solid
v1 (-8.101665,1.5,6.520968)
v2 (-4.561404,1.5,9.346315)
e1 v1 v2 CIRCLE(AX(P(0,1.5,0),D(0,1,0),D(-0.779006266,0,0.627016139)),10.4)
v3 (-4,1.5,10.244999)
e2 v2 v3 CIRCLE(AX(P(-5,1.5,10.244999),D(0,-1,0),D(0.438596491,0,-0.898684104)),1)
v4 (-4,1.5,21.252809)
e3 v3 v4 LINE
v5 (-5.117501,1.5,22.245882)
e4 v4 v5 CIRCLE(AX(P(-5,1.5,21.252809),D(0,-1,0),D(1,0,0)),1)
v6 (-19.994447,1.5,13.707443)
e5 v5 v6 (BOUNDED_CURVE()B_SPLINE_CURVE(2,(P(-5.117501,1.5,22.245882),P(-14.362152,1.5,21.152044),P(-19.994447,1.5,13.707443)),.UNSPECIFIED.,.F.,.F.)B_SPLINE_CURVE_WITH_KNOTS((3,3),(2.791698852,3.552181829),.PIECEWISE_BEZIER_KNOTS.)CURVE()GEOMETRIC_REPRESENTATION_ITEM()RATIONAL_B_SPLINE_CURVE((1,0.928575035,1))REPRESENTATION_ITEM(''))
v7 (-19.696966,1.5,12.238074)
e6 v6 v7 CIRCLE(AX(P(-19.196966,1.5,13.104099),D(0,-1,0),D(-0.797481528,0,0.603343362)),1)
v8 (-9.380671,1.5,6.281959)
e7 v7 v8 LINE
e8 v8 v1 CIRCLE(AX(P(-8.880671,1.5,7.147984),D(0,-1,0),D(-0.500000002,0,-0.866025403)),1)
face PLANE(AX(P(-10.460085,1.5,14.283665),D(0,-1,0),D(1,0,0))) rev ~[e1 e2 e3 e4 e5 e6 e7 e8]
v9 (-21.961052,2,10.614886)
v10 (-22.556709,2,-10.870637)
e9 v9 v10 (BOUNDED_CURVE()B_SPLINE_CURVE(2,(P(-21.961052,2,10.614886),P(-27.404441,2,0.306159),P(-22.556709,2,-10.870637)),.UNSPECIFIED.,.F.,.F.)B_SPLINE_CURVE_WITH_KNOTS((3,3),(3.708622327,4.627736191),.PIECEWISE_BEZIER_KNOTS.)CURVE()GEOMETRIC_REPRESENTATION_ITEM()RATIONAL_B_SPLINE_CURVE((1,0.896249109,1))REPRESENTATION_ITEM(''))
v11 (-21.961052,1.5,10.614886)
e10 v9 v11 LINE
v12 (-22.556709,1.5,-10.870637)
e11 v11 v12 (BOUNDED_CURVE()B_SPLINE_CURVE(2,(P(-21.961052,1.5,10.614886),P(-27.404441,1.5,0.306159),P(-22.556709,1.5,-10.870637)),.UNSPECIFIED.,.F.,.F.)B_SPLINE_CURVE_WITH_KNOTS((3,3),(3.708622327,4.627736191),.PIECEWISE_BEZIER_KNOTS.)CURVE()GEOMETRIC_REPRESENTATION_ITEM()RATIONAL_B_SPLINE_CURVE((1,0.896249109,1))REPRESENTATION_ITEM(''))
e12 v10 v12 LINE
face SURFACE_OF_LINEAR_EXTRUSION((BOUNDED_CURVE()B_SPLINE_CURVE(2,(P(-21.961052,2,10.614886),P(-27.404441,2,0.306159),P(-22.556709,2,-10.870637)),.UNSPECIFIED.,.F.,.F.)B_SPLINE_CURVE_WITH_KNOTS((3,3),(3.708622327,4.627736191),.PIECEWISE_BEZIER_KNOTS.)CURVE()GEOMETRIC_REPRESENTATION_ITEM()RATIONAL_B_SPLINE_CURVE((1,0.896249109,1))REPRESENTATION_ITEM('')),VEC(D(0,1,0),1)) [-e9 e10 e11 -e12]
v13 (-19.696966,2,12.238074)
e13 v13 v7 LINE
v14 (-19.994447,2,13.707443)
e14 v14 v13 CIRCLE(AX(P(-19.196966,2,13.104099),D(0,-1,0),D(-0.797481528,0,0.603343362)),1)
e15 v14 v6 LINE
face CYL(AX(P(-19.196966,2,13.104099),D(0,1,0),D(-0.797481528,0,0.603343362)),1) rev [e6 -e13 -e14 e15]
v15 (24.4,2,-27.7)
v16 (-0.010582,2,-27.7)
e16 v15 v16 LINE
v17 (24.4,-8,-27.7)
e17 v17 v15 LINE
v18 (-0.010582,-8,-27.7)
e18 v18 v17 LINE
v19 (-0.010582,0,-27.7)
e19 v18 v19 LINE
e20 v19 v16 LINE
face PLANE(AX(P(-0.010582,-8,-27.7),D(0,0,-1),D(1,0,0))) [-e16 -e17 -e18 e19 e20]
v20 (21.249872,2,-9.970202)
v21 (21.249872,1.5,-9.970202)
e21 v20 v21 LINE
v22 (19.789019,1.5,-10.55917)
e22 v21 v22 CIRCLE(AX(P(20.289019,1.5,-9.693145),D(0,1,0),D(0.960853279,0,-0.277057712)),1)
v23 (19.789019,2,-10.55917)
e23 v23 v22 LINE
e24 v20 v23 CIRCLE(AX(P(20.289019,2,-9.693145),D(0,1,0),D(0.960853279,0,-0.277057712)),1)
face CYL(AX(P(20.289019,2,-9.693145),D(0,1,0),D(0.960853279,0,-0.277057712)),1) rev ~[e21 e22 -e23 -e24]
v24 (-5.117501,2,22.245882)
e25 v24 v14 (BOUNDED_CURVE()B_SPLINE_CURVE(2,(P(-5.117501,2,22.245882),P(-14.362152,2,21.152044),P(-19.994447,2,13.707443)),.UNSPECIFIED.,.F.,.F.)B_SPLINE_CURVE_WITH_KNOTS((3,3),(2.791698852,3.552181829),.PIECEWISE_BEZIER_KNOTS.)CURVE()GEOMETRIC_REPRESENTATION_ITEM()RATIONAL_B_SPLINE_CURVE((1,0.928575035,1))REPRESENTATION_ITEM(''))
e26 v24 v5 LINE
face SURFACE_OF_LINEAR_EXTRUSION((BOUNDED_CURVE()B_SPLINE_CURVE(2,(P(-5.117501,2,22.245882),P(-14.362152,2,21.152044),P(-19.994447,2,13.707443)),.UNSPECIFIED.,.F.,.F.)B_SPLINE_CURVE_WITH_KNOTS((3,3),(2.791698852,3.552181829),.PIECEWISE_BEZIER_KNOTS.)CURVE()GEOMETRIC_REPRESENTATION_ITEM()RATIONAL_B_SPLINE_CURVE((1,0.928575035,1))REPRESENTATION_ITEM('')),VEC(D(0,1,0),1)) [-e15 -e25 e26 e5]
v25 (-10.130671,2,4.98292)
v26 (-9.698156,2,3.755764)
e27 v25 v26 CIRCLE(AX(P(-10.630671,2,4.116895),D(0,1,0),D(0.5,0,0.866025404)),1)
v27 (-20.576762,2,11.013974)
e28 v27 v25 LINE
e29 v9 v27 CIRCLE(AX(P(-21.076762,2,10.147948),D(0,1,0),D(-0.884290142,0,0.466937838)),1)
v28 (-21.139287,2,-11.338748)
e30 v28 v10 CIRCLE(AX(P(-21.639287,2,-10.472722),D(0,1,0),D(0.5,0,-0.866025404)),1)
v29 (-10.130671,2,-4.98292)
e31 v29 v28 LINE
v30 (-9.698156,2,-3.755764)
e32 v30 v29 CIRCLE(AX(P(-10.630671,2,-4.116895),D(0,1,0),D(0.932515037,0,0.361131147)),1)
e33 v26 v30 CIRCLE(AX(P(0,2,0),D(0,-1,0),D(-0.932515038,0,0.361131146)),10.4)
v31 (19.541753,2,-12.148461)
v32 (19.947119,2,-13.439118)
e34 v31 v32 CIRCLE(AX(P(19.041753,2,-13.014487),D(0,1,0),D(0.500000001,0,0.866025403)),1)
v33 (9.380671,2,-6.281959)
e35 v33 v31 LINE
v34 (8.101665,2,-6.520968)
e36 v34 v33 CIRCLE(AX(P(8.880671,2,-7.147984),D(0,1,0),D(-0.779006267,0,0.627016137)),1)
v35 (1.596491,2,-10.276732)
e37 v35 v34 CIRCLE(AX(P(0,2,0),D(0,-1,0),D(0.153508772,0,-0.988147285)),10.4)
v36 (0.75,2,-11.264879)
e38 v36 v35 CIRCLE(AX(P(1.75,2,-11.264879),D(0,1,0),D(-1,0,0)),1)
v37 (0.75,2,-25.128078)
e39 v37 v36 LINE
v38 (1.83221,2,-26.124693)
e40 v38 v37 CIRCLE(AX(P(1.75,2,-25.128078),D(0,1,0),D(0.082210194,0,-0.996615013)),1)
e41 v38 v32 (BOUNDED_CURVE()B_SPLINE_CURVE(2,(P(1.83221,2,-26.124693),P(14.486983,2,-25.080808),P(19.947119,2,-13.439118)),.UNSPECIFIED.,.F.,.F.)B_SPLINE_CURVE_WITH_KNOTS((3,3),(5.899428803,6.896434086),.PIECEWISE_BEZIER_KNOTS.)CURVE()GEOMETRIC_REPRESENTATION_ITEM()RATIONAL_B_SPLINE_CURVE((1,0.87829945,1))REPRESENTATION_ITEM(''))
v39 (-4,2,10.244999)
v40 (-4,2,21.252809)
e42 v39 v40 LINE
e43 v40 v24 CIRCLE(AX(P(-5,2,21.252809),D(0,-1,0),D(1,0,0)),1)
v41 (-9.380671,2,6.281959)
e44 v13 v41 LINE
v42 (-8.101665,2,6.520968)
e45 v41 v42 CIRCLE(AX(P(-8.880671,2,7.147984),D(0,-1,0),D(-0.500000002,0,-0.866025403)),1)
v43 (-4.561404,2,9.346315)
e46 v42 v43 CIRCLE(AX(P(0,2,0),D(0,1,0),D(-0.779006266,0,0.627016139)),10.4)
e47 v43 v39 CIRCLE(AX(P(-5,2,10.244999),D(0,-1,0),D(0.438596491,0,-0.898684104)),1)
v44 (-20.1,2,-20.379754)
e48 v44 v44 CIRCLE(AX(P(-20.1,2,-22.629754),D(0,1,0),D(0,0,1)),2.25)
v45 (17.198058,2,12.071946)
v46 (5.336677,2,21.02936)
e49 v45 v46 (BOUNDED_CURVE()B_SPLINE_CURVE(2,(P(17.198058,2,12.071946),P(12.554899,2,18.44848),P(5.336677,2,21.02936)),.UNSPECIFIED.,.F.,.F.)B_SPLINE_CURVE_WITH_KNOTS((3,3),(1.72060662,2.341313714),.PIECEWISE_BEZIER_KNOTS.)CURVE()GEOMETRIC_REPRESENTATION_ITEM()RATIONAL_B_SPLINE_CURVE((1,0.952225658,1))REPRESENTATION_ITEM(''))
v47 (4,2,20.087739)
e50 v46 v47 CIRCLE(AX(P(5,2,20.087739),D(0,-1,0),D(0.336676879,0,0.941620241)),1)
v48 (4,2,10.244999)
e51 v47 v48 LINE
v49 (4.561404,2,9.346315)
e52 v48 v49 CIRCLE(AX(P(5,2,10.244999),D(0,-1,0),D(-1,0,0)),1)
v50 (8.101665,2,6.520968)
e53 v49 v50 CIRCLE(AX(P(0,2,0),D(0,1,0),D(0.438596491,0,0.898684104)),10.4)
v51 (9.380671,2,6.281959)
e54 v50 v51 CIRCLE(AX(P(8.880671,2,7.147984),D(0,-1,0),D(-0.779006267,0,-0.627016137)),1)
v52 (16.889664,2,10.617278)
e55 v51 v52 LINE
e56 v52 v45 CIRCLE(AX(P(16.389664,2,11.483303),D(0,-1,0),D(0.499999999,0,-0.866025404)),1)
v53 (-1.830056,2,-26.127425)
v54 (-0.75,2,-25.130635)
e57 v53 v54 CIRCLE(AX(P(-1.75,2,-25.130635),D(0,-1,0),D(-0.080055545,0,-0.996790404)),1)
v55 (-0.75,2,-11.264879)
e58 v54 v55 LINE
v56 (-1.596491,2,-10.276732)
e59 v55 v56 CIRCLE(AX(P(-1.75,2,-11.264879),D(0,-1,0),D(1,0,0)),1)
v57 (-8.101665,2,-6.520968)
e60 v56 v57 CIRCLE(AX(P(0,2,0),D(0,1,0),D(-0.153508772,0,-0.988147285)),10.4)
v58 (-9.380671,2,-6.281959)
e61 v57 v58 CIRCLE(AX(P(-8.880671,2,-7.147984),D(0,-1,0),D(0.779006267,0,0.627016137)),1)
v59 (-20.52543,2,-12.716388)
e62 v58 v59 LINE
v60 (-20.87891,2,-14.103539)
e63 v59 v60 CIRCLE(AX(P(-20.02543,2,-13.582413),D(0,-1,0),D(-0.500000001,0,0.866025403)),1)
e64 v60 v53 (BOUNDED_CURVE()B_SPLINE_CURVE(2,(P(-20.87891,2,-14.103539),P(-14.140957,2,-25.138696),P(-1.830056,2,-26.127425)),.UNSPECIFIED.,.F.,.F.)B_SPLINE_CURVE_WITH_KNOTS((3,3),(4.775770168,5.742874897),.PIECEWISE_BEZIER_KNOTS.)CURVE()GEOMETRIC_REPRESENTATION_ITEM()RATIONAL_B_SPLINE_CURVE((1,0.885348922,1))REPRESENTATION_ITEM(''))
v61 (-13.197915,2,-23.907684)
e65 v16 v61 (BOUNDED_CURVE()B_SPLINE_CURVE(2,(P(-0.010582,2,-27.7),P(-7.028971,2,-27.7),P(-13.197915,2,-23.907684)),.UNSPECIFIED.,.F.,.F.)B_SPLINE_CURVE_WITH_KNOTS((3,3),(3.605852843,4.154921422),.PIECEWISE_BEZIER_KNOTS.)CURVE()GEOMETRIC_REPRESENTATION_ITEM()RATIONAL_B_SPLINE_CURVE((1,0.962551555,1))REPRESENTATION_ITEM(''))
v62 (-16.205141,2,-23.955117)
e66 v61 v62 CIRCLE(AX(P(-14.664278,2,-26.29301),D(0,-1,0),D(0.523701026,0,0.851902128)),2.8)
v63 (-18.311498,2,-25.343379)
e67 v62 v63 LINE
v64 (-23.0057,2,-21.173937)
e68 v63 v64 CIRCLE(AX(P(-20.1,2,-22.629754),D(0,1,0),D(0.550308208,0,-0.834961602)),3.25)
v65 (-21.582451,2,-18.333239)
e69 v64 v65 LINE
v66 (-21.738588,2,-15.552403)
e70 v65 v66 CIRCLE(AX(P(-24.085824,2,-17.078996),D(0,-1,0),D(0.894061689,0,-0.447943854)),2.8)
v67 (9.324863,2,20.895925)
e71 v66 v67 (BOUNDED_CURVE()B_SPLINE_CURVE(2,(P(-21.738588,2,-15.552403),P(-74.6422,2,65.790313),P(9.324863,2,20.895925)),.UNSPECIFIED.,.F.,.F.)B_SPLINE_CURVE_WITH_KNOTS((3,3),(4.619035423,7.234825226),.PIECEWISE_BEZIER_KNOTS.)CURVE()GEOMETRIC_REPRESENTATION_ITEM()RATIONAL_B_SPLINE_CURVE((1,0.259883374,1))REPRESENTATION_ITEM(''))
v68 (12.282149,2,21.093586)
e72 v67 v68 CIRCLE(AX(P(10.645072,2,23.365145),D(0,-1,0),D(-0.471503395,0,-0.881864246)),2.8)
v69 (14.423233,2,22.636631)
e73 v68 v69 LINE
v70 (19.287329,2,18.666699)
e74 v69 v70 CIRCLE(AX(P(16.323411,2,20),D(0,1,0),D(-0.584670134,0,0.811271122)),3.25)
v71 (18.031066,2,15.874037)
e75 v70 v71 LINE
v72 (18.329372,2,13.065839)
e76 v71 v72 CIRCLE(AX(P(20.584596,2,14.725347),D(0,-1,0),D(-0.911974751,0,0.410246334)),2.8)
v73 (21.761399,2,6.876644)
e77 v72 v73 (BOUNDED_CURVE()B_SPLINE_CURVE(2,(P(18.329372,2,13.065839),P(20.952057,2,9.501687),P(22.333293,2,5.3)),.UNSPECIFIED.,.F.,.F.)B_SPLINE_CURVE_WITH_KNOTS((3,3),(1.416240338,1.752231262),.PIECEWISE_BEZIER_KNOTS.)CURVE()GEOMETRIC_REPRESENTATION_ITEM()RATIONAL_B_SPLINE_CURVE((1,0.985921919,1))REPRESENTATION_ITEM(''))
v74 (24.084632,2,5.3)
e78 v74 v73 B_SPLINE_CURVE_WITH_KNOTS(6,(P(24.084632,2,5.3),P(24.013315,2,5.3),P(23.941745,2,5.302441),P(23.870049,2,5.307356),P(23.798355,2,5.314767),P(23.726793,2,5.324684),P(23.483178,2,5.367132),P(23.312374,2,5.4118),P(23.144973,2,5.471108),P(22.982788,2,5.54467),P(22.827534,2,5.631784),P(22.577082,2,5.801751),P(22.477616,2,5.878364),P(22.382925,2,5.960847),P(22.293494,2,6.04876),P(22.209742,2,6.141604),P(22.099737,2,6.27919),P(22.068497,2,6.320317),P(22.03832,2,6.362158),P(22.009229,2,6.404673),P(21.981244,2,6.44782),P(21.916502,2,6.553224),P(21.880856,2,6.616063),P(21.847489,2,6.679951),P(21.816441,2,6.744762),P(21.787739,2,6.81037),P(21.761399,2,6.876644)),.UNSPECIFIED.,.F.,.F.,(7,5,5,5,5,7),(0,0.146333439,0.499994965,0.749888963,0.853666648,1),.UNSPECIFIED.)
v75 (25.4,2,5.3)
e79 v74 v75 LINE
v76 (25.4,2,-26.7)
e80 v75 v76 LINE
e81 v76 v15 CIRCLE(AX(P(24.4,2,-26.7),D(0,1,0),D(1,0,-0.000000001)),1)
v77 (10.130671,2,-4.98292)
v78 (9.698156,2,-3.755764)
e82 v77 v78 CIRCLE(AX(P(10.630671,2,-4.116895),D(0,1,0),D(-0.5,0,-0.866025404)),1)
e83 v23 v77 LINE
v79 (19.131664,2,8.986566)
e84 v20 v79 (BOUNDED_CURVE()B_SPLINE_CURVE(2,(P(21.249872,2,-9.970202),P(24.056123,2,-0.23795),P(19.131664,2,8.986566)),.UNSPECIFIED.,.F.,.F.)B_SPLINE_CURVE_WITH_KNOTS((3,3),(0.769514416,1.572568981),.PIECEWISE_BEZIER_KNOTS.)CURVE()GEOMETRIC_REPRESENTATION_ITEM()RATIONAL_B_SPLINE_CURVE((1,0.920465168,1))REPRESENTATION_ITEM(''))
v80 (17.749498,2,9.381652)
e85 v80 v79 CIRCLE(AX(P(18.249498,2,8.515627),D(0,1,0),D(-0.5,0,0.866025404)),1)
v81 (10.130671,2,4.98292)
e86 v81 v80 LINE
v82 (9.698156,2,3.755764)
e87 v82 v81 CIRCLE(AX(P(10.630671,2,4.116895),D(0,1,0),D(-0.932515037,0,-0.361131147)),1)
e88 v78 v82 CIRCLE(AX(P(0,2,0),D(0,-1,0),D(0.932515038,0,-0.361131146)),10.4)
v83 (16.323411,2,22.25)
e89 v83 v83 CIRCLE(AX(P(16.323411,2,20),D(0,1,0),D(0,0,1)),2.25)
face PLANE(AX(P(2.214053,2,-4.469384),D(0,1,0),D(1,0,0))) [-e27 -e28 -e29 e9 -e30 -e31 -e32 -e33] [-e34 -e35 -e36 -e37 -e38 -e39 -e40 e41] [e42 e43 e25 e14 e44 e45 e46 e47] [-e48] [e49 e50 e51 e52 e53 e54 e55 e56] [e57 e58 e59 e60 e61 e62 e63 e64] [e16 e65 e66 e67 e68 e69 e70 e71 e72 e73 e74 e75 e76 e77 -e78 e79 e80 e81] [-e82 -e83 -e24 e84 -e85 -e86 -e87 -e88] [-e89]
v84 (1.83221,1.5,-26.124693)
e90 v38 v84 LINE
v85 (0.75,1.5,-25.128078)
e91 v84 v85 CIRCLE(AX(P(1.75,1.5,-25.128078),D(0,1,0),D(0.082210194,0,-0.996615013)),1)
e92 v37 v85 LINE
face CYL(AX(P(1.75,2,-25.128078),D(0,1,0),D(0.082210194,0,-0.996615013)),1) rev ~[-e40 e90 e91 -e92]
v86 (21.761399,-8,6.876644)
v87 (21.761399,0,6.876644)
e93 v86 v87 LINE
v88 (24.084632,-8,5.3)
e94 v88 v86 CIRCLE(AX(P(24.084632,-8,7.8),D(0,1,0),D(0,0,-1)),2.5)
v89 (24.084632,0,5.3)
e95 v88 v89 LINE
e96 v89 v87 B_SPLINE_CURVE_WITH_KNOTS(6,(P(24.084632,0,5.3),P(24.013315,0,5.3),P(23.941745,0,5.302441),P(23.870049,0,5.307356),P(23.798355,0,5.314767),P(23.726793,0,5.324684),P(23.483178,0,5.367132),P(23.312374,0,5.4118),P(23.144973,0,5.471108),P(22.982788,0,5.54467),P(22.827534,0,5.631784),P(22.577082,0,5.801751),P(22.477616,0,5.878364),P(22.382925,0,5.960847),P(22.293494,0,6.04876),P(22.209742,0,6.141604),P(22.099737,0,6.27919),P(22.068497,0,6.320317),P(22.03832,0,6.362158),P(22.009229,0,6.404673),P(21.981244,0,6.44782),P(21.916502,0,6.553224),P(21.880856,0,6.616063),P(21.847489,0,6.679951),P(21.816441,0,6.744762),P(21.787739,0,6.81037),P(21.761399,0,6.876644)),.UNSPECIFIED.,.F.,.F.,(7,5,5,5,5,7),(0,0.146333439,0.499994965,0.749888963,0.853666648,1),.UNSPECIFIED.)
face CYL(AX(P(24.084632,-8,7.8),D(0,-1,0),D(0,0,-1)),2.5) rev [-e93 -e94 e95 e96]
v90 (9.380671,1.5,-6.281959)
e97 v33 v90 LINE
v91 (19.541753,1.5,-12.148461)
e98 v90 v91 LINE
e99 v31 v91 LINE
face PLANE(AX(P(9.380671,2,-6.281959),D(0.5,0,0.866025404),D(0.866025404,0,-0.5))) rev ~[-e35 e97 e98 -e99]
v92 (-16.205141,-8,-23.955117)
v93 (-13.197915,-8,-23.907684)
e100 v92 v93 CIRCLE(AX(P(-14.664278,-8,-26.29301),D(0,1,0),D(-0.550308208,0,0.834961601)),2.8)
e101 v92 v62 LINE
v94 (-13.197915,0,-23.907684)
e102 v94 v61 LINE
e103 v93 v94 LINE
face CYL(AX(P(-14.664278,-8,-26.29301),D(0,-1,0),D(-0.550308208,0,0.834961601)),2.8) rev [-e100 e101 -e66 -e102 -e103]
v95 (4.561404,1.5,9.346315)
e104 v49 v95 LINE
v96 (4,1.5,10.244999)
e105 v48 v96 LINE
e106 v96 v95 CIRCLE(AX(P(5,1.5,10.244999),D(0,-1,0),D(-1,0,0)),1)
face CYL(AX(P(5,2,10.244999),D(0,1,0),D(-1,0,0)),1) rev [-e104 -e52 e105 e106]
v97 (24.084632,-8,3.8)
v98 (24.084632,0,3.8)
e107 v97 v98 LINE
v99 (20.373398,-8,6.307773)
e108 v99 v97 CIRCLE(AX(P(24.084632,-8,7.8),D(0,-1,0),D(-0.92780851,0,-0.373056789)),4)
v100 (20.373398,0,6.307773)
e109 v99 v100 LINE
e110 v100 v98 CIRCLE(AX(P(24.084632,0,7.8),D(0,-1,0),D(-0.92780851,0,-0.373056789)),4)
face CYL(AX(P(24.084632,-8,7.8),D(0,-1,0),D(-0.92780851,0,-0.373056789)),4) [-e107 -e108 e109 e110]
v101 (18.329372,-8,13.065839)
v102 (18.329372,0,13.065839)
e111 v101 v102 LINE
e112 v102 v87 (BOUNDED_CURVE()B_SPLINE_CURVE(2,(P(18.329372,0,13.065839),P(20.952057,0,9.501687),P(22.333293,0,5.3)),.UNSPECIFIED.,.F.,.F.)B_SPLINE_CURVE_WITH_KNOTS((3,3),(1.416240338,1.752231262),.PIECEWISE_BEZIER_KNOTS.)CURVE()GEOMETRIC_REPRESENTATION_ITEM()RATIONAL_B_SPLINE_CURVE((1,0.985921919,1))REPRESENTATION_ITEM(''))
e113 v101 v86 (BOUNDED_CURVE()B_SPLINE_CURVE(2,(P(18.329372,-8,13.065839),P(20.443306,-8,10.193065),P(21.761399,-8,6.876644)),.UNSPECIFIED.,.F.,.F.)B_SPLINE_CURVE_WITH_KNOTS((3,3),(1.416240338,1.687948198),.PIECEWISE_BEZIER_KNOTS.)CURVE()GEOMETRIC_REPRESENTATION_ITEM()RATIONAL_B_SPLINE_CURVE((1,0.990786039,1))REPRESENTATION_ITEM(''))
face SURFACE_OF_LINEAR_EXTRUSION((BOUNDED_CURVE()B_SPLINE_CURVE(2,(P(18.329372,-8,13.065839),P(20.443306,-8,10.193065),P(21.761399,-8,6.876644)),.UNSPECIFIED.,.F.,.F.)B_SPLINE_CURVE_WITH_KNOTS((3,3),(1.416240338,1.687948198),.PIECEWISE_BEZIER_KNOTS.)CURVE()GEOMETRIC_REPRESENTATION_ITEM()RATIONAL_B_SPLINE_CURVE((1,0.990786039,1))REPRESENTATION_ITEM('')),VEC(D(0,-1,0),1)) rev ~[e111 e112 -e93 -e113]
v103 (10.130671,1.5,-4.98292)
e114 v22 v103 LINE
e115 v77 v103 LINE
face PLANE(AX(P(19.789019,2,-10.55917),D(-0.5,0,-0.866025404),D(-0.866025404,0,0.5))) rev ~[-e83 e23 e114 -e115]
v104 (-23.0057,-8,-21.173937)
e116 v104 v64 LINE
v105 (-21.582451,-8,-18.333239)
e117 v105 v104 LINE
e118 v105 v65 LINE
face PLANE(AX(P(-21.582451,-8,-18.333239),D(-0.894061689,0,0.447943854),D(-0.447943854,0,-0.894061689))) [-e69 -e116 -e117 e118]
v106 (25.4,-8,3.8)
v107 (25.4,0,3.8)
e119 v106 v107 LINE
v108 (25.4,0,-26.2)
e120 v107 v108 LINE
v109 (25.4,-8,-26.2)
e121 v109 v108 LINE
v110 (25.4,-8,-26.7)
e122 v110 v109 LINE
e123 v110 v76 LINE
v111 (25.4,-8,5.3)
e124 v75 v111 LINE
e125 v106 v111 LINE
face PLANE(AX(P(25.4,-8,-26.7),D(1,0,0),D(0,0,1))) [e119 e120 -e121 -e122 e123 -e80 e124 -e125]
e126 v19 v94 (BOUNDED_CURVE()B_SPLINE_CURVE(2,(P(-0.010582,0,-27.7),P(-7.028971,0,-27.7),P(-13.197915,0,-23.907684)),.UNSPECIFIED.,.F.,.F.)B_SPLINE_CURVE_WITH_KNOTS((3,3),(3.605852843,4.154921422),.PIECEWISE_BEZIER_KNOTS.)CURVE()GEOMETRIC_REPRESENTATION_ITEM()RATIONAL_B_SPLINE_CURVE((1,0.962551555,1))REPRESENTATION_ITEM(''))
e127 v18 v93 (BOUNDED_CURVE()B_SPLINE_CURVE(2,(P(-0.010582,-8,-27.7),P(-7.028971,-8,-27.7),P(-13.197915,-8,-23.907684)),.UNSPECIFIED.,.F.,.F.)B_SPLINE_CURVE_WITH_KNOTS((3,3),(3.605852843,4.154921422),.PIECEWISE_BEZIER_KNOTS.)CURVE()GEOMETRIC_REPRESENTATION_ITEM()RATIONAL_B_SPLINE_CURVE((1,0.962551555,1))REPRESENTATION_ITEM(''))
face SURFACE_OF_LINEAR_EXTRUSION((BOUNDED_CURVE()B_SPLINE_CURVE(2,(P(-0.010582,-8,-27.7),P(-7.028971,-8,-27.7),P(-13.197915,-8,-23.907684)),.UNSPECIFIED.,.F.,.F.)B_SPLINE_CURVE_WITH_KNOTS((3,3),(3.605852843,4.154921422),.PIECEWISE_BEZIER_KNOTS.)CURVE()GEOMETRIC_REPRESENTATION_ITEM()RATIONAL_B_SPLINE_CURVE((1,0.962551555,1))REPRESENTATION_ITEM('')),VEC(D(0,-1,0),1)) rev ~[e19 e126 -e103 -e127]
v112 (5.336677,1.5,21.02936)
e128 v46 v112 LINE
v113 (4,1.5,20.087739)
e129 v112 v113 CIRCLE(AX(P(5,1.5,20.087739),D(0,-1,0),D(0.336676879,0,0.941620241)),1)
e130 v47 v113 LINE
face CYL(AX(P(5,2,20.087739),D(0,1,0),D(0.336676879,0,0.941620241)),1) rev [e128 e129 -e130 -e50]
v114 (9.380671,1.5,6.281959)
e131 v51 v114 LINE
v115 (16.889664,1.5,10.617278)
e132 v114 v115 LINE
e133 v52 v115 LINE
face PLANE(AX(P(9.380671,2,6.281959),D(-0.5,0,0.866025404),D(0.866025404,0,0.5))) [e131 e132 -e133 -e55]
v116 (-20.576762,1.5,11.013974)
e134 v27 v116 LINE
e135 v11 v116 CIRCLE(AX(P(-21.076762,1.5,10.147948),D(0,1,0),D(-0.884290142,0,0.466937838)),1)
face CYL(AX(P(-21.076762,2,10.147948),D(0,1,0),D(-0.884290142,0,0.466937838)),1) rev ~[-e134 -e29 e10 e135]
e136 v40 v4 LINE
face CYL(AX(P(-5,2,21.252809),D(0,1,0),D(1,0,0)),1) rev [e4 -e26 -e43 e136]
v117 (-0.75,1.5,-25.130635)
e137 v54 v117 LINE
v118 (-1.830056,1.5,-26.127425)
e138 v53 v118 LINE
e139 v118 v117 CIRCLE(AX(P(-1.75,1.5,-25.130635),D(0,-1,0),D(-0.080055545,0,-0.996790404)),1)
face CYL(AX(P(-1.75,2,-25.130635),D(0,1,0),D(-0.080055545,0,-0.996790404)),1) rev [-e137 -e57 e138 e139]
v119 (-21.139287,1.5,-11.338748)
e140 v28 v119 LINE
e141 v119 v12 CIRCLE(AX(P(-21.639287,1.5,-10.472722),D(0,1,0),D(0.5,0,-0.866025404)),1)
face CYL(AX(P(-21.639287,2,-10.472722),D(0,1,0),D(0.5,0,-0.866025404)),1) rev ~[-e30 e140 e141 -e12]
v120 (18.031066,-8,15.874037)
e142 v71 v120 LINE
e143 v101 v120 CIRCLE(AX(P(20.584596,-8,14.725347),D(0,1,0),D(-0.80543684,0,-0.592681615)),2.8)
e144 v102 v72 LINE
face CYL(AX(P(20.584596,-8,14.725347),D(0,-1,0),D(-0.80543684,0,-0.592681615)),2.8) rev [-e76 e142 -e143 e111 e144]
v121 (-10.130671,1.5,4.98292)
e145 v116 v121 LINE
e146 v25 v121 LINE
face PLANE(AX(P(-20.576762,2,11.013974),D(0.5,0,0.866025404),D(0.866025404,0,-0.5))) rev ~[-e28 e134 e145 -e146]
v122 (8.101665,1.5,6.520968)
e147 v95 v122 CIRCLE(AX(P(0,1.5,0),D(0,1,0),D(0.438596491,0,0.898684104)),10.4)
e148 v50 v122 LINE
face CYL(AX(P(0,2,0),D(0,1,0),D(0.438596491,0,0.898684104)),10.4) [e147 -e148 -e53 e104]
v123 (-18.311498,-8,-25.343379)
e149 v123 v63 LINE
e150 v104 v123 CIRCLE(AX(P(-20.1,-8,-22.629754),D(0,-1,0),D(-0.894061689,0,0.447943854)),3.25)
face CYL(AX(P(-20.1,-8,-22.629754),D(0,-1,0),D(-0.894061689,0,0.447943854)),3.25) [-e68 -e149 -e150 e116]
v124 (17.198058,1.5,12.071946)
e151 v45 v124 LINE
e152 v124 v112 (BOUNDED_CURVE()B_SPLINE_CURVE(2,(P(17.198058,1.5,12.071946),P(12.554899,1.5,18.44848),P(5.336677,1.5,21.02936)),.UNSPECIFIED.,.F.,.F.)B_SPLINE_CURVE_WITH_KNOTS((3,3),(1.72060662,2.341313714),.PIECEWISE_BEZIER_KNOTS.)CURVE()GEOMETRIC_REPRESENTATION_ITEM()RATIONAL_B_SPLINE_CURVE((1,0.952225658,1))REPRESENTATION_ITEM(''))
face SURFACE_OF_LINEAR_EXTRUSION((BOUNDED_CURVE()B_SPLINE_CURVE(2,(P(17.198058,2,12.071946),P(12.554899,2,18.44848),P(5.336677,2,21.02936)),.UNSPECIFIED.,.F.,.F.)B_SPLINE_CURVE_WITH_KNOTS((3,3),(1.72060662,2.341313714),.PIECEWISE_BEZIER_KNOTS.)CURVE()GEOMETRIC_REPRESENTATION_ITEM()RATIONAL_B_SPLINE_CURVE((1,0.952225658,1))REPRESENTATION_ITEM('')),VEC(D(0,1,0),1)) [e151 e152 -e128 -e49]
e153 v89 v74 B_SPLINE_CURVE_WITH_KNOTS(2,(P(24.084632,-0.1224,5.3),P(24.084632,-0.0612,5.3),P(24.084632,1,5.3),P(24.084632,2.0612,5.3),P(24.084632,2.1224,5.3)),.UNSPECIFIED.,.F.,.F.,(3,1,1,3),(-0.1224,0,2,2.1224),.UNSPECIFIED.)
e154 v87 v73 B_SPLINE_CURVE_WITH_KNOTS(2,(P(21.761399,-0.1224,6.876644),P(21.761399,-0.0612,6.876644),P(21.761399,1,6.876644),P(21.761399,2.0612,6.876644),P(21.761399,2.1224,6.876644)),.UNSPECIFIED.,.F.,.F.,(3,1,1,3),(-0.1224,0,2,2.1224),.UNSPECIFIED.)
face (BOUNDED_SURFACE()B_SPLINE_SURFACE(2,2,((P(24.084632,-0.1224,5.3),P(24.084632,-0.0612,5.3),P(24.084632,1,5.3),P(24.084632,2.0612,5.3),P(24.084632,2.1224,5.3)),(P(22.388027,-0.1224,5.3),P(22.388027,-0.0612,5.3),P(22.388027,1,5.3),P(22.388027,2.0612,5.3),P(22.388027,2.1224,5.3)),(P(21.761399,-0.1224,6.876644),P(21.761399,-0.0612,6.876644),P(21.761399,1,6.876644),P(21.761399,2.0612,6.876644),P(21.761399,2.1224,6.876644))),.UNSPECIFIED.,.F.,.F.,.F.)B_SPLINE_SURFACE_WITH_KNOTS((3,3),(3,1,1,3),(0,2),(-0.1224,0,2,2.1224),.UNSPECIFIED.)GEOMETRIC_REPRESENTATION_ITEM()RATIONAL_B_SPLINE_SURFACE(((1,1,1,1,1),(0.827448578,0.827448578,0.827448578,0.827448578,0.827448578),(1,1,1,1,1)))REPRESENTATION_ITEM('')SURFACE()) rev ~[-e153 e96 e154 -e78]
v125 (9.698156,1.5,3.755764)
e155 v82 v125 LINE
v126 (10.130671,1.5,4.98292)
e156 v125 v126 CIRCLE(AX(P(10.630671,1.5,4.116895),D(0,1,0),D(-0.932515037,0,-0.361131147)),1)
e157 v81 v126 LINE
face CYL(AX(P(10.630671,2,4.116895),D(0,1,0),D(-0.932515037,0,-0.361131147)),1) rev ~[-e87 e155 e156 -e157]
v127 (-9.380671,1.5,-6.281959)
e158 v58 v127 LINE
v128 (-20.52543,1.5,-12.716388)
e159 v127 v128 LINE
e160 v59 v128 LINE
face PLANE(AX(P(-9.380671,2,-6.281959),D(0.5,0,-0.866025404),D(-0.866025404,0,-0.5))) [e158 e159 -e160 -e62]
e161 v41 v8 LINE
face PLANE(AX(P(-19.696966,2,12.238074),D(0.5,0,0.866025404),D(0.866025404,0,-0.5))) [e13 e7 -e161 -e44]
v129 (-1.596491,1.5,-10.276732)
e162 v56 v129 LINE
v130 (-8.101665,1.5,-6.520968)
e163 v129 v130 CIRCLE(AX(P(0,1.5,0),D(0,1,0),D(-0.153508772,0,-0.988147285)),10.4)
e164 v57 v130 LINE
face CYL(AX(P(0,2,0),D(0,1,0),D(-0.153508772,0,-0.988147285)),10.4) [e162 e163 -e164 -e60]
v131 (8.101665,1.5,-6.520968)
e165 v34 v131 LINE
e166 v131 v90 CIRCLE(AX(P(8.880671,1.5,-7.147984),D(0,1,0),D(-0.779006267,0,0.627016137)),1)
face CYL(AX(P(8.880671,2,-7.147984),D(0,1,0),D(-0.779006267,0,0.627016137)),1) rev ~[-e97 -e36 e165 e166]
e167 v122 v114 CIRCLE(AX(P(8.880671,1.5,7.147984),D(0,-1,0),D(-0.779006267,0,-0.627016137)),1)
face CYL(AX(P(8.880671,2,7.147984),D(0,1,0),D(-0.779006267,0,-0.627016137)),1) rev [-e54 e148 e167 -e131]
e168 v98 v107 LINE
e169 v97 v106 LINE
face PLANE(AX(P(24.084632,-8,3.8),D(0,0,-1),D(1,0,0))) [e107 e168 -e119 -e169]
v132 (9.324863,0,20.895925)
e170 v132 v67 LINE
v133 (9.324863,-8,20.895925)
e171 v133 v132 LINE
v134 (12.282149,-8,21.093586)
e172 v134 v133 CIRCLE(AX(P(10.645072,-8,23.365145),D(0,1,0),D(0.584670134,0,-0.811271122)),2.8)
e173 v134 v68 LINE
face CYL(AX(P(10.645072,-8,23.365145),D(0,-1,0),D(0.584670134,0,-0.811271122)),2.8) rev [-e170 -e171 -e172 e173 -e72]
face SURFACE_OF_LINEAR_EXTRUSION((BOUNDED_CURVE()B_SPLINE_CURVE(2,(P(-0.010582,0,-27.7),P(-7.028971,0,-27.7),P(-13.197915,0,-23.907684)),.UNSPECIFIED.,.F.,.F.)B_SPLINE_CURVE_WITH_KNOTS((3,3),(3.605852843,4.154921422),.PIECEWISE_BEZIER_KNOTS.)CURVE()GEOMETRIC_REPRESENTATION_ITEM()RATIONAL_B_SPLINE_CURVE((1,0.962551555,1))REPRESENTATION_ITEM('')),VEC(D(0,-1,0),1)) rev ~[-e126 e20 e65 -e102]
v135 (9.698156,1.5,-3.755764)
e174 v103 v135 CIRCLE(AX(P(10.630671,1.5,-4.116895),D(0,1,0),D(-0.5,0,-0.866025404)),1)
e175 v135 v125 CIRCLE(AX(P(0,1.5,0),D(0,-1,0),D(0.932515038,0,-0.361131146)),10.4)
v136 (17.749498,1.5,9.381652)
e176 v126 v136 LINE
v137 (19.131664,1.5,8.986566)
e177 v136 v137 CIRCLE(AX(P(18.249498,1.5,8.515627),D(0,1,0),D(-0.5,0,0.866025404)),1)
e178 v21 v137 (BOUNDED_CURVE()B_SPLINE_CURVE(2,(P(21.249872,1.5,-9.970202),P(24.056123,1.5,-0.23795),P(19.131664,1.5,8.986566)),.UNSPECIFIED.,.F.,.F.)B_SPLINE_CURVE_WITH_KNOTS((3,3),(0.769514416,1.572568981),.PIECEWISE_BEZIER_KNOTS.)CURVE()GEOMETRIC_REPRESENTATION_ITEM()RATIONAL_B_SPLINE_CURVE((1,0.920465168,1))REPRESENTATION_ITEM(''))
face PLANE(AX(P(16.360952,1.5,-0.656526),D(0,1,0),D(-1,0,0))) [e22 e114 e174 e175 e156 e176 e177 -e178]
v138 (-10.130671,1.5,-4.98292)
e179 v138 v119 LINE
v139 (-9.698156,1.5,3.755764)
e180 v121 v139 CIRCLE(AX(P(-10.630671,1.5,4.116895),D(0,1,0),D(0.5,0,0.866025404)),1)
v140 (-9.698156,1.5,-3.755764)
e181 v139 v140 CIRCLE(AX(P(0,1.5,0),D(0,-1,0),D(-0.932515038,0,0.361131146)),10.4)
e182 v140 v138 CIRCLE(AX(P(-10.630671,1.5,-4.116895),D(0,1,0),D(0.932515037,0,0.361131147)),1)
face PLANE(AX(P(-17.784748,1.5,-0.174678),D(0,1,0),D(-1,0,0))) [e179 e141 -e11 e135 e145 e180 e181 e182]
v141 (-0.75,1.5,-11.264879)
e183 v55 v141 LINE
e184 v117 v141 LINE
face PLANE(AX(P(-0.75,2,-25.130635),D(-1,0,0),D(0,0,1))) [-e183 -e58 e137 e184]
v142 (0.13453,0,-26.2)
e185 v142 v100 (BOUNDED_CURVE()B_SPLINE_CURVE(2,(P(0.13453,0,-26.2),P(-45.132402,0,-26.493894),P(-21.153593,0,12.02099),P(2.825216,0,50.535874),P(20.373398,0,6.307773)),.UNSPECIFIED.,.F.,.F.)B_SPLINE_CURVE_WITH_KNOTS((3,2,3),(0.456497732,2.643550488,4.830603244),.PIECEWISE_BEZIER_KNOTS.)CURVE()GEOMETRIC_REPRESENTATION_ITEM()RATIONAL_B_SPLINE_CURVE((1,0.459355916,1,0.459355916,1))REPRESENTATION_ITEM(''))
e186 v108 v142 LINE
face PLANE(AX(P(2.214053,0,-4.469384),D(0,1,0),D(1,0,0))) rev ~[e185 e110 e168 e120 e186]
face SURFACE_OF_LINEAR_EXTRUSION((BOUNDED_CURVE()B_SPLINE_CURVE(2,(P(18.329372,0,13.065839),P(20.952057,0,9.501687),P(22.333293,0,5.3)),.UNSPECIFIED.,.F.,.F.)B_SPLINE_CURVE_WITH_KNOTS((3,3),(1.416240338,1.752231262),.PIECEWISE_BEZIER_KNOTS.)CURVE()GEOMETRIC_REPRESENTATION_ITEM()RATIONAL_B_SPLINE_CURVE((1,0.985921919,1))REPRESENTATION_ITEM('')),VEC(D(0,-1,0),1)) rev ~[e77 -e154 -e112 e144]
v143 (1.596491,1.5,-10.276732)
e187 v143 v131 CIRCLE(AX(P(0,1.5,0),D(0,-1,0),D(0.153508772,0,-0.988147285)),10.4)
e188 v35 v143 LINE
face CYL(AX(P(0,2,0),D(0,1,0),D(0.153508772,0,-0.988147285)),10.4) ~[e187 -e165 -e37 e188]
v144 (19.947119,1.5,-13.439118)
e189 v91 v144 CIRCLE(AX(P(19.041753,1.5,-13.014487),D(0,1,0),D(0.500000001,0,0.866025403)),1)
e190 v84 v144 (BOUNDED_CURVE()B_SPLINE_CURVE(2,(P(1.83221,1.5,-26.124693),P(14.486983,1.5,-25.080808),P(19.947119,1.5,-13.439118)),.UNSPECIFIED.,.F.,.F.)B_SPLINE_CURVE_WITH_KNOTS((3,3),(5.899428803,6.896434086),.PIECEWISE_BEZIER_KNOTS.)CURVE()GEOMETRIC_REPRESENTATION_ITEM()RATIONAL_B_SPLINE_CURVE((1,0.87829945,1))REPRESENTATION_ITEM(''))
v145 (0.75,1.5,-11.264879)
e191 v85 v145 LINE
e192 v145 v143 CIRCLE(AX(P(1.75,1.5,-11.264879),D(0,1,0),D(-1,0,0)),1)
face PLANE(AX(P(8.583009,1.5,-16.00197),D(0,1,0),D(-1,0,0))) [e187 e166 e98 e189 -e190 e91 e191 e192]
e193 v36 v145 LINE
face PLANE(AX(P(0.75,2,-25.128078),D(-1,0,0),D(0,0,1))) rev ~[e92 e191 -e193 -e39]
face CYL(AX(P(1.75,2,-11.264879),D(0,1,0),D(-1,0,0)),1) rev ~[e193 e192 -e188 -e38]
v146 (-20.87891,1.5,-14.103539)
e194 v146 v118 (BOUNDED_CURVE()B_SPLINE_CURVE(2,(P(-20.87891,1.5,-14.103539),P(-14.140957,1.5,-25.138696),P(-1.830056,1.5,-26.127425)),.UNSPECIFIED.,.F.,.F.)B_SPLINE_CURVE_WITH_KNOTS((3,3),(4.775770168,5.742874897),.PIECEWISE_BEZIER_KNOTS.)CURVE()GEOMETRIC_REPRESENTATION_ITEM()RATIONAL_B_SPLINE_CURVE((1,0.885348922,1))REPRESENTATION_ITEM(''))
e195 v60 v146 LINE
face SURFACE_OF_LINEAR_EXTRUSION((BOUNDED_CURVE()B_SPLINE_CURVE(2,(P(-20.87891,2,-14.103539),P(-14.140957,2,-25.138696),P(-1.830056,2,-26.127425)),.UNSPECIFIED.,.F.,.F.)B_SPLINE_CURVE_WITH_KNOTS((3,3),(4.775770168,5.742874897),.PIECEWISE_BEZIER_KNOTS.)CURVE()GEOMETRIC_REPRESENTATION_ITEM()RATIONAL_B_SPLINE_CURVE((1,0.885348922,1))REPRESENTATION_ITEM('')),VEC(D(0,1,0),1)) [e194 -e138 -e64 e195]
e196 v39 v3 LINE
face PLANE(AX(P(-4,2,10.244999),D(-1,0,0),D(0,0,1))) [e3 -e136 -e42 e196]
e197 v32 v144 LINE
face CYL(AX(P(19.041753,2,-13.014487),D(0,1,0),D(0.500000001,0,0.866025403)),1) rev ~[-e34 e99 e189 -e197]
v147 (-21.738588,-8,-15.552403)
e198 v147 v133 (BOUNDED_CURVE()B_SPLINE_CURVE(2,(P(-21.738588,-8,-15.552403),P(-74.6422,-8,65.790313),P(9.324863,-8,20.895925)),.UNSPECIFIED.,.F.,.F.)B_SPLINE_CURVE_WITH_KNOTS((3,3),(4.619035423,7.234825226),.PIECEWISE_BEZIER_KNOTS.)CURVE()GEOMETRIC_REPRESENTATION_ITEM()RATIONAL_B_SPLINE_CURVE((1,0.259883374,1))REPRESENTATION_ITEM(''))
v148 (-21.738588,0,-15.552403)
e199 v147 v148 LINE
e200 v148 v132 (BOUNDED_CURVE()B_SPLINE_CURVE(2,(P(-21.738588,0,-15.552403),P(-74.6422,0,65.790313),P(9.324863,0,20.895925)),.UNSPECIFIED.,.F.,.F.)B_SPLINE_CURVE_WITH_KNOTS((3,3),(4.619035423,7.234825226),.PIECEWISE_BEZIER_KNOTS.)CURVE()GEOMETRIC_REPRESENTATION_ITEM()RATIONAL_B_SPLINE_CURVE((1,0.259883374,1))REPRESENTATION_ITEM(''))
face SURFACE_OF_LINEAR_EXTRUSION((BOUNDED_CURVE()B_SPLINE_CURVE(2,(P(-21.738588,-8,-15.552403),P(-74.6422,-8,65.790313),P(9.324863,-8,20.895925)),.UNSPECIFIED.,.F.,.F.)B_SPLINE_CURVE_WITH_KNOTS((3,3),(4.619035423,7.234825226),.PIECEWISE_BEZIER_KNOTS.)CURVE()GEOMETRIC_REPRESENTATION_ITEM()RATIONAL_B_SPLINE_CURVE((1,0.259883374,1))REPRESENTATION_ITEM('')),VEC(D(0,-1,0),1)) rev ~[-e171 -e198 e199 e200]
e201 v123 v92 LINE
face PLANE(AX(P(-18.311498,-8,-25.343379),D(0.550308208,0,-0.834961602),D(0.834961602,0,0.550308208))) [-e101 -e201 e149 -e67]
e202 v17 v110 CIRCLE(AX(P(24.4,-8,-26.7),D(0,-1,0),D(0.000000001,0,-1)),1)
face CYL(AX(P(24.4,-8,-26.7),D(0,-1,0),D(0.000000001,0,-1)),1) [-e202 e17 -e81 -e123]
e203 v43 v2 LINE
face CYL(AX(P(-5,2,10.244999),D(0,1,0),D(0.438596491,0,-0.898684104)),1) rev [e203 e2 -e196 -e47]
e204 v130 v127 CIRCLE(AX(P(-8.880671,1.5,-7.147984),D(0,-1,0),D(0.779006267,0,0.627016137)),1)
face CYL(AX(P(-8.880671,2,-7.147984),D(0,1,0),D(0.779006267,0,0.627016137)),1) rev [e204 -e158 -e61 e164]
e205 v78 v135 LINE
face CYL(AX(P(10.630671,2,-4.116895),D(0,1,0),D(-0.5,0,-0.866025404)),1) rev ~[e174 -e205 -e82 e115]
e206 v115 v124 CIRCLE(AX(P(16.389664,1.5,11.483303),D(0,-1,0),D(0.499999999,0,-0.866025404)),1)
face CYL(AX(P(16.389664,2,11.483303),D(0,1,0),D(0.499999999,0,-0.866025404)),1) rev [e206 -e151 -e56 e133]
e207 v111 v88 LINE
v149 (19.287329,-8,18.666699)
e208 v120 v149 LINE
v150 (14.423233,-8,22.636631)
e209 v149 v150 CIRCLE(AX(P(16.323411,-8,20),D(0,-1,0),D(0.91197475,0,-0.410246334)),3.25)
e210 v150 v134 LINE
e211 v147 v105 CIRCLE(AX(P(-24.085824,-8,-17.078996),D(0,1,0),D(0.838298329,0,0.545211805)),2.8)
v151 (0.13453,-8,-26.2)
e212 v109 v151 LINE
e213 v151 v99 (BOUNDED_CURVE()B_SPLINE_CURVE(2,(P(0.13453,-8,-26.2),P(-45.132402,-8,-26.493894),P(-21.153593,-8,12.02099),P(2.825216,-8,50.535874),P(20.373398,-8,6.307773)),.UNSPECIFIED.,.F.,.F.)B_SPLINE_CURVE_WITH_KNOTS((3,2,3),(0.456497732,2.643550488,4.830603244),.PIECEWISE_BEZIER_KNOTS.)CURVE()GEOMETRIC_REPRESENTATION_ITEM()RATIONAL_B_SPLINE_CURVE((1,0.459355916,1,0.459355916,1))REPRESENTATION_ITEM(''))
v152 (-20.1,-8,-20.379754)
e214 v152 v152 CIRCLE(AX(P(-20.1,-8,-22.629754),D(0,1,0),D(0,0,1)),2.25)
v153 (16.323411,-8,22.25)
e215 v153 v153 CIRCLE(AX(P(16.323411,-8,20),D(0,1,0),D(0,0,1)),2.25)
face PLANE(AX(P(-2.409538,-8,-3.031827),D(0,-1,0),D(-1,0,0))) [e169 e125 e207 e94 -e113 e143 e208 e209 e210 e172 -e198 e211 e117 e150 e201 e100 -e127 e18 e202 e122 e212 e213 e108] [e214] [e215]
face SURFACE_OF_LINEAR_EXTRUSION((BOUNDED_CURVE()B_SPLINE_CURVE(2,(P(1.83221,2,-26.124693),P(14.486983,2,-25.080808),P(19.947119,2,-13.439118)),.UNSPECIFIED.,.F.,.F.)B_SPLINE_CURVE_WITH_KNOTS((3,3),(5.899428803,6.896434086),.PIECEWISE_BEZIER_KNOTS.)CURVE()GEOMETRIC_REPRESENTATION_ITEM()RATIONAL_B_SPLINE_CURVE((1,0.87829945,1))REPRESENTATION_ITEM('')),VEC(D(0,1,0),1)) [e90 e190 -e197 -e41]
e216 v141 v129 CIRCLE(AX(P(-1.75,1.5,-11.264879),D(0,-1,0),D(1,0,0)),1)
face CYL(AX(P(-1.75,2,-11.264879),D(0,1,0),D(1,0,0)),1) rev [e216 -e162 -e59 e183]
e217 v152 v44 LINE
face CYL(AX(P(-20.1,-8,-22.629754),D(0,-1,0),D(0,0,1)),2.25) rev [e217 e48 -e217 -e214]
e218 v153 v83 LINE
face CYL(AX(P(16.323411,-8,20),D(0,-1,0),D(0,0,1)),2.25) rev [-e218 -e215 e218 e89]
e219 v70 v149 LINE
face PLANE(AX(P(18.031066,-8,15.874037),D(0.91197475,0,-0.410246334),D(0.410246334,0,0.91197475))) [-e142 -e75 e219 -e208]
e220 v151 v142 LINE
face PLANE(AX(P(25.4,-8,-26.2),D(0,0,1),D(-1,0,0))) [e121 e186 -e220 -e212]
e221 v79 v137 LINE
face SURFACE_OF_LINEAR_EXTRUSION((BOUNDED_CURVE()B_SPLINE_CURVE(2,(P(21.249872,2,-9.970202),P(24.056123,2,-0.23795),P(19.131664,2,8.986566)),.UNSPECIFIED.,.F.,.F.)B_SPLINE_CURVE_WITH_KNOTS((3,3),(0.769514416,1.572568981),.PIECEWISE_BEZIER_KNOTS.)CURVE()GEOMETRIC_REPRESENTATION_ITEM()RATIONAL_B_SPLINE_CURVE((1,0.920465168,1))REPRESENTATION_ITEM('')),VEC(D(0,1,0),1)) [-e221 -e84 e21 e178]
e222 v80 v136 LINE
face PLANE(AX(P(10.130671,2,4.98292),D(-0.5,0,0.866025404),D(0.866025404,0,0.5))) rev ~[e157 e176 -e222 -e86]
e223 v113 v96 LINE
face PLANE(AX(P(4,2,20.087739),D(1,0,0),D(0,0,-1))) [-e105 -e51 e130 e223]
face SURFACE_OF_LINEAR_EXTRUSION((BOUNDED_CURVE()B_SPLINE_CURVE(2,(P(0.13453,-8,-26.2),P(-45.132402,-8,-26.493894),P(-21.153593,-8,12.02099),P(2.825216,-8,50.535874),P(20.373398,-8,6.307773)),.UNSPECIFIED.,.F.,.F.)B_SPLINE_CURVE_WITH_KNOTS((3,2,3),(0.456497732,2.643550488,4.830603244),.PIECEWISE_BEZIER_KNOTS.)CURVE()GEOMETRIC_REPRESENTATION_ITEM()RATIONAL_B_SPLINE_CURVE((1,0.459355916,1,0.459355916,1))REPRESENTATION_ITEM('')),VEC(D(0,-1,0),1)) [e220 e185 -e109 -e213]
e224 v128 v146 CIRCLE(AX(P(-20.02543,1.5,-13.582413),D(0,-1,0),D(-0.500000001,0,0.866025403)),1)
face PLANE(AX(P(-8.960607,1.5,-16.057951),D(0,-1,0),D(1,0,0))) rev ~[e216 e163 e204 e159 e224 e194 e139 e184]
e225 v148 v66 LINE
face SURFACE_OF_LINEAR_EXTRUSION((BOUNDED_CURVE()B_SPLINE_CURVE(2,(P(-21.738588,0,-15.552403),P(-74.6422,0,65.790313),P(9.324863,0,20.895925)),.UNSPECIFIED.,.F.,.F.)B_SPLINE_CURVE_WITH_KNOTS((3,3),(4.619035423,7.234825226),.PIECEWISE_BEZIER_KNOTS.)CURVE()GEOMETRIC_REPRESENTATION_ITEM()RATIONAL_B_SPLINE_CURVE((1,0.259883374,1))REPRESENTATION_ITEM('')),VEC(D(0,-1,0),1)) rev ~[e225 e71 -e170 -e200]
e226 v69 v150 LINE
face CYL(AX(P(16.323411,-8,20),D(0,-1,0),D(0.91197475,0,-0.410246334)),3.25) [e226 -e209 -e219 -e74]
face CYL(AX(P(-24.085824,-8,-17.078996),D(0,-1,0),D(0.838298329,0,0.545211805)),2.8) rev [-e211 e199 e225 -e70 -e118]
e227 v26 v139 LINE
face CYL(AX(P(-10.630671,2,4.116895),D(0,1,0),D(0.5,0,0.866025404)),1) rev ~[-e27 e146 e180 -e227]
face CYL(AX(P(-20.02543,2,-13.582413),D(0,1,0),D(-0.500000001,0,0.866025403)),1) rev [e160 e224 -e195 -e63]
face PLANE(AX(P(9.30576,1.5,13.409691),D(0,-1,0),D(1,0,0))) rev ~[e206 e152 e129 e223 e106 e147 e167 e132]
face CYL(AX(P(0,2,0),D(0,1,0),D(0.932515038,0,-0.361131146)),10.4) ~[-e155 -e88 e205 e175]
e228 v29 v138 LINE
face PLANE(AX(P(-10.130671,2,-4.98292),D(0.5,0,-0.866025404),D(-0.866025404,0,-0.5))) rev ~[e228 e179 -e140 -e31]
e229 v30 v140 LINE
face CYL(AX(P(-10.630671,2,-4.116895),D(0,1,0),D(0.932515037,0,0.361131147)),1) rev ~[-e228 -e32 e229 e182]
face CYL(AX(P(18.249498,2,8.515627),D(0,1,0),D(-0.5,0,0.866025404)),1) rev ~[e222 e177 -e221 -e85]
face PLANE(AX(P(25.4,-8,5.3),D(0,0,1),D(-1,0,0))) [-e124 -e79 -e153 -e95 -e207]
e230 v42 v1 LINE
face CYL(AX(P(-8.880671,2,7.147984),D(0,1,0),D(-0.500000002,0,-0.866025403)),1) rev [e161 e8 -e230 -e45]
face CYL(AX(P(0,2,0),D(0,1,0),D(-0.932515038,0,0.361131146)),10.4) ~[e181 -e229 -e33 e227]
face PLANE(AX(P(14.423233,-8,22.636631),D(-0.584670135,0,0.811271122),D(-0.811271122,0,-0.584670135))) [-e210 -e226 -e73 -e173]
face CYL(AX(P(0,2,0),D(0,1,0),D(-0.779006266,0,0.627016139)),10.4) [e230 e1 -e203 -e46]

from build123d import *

# Parameters (mm, degrees)
SKETCH18_R          = 2.25
BOSS_EXTRUDE3_DEPTH = 2
CUT_EXTRUDE9_DEPTH  = 0.5
FILLET4_R           = 2.5
BOSS_EXTRUDE4_START = -8
SKETCH22_R          = 2.25
BOSS_EXTRUDE4_DEPTH = 8


with BuildPart() as part:
    # Sketch18 → Boss-Extrude3 (new body)
    with BuildSketch(Plane(origin=(0, 0, 0), x_dir=(1, 0, 0), z_dir=(0, 1, 0))):
        with BuildLine():
            Line((-23.005700489, 21.173936517), (-21.582450949, 18.333239239))
            ThreePointArc((-21.582450949, 18.333239239), (-21.290226852, 16.922030245), (-21.738588357, 15.552403394))
            add(Edge.make_bspline(
                [(-21.738588357, 15.552403394), (-74.642199686, -65.790312539), (9.324862756, -20.895925284)],
                knots=[4.619035423, 4.619035423, 4.619035423, 7.234825226, 7.234825226, 7.234825226], degree=2, weights=[1, 0.259883374, 1]))
            ThreePointArc((9.324862756, -20.895925284), (10.831803609, -20.571378647), (12.282148638, -21.093586031))
            Line((12.282148638, -21.093586031), (14.423232763, -22.636631148))
            ThreePointArc((14.423232763, -22.636631148), (18.378398581, -22.5178413), (19.287328639, -18.666699414))
            Line((19.287328639, -18.666699414), (18.031066286, -15.874036932))
            ThreePointArc((18.031066286, -15.874036932), (17.800260945, -14.429576005), (18.329372436, -13.065838675))
            add(Edge.make_bspline(
                [(18.329372436, -13.065838675), (20.952057231, -9.501687367), (22.333293139, -5.3)],
                knots=[1.416240338, 1.416240338, 1.416240338, 1.752231262, 1.752231262, 1.752231262], degree=2, weights=[1, 0.985921919, 1]))
            Line((22.333293139, -5.3), (25.4, -5.3))
            Line((25.4, -5.3), (25.4, 26.7))
            ThreePointArc((25.4, 26.7), (25.107106781, 27.407106781), (24.4, 27.7))
            Line((24.4, 27.7), (-0.010581904, 27.7))
            add(Edge.make_bspline(
                [(-0.010581904, 27.7), (-7.028971285, 27.7), (-13.197915422, 23.907683644)],
                knots=[3.605852843, 3.605852843, 3.605852843, 4.154921422, 4.154921422, 4.154921422], degree=2, weights=[1, 0.962551555, 1]))
            ThreePointArc((-13.197915422, 23.907683644), (-14.708437667, 23.493357847), (-16.205141277, 23.955117118))
            Line((-16.205141277, 23.955117118), (-18.311498324, 25.343379249))
            ThreePointArc((-18.311498324, 25.343379249), (-22.258262373, 25.059651887), (-23.005700489, 21.173936517))
        make_face()
        with Locations(Location((16.3234107, -20, 0), (0, 0, 270))):
            Circle(SKETCH18_R, mode=Mode.SUBTRACT)
        with Locations(Location((-20.1, 22.629754043, 0), (0, 0, 270))):
            Circle(SKETCH18_R, mode=Mode.SUBTRACT)
    extrude(amount=BOSS_EXTRUDE3_DEPTH)

    # Sketch21 → Cut-Extrude9 (cut)
    with BuildSketch(Plane.XZ.offset(-2)):
        with BuildLine():
            Line((9.380671427, 6.281958578), (16.889664258, 10.61727761))
            ThreePointArc((16.889664258, 10.61727761), (17.367921917, 11.27590978), (17.198057734, 12.071945509))
            add(Edge.make_bspline(
                [(17.198057734, 12.071945509), (12.554899126, 18.448479912), (5.336676879, 21.029359579)],
                knots=[1.72060662, 1.72060662, 1.72060662, 2.341313714, 2.341313714, 2.341313714], degree=2, weights=[1, 0.952225658, 1]))
            ThreePointArc((5.336676879, 21.029359579), (4.424099348, 20.905259025), (4, 20.087739337))
            Line((4, 20.087739337), (4, 10.24499878))
            ThreePointArc((4, 10.24499878), (4.151885476, 9.715185837), (4.561403509, 9.346314676))
            ThreePointArc((4.561403509, 9.346314676), (6.487216138, 8.128716183), (8.101665162, 6.520967843))
            ThreePointArc((8.101665162, 6.520967843), (8.696980161, 6.164999994), (9.380671427, 6.281958578))
        make_face()
        with BuildLine():
            Line((10.130671427, 4.982920472), (17.749498035, 9.381652065))
            ThreePointArc((17.749498035, 9.381652065), (18.524335906, 9.477117246), (19.131663578, 8.9865661))
            add(Edge.make_bspline(
                [(21.249872044, -9.970202217), (24.056123087, -0.237950121), (19.131663578, 8.9865661)],
                knots=[0.769514416, 0.769514416, 0.769514416, 1.572568981, 1.572568981, 1.572568981], degree=2, weights=[1, 0.920465168, 1]))
            ThreePointArc((21.249872044, -9.970202217), (20.662940109, -10.620604923), (19.789018765, -10.559169907))
            Line((19.789018765, -10.559169907), (10.130671427, -4.982920472))
            ThreePointArc((10.130671427, -4.982920472), (9.68753669, -4.449305759), (9.69815639, -3.755763922))
            ThreePointArc((9.69815639, -3.755763922), (10.4, 0), (9.69815639, 3.755763922))
            ThreePointArc((9.69815639, 3.755763922), (9.68753669, 4.449305759), (10.130671427, 4.982920472))
        make_face()
        with BuildLine():
            Line((-10.130671427, -4.982920472), (-21.139286828, -11.338747537))
            ThreePointArc((-21.139286828, -11.338747537), (-21.9528823, -11.422278809), (-22.556709037, -10.870637315))
            add(Edge.make_bspline(
                [(-21.961052126, 10.614886102), (-27.404440798, 0.306158598), (-22.556709037, -10.870637315)],
                knots=[3.708622327, 3.708622327, 3.708622327, 4.627736191, 4.627736191, 4.627736191], degree=2, weights=[1, 0.896249109, 1]))
            ThreePointArc((-21.961052126, 10.614886102), (-21.353777236, 11.108813785), (-20.576761985, 11.013973667))
            Line((-20.576761985, 11.013973667), (-10.130671427, 4.982920472))
            ThreePointArc((-10.130671427, 4.982920472), (-9.68753669, 4.449305759), (-9.69815639, 3.755763922))
            ThreePointArc((-9.69815639, 3.755763922), (-10.4, 0), (-9.69815639, -3.755763922))
            ThreePointArc((-9.69815639, -3.755763922), (-9.68753669, -4.449305759), (-10.130671427, -4.982920472))
        make_face()
        with BuildLine():
            Line((9.380671427, -6.281958578), (19.541752537, -12.148461491))
            ThreePointArc((19.541752537, -12.148461491), (19.995803, -12.714840914), (19.947118982, -13.43911803))
            add(Edge.make_bspline(
                [(1.832210196, -26.124693311), (14.486982659, -25.080808446), (19.947118982, -13.43911803)],
                knots=[5.899428803, 5.899428803, 5.899428803, 6.896434086, 6.896434086, 6.896434086], degree=2, weights=[1, 0.87829945, 1]))
            ThreePointArc((1.832210196, -26.124693311), (1.072582181, -25.86367676), (0.75, -25.128078298))
            Line((0.75, -25.128078298), (0.75, -11.26487905))
            ThreePointArc((0.75, -11.26487905), (0.990556529, -10.614305753), (1.596491228, -10.276731764))
            ThreePointArc((1.596491228, -10.276731764), (5.2, -9.006664199), (8.101665162, -6.520967843))
            ThreePointArc((8.101665162, -6.520967843), (8.696980161, -6.164999994), (9.380671427, -6.281958578))
        make_face()
        with BuildLine():
            Line((-4, 10.24499878), (-4, 21.25280893))
            ThreePointArc((-4, 21.25280893), (-4.335734031, 22.000305233), (-5.117501446, 22.245881642))
            add(Edge.make_bspline(
                [(-5.117501446, 22.245881642), (-14.362152408, 21.152044459), (-19.994447245, 13.707442628)],
                knots=[2.791698852, 2.791698852, 2.791698852, 3.552181829, 3.552181829, 3.552181829], degree=2, weights=[1, 0.928575035, 1]))
            ThreePointArc((-19.994447245, 13.707442628), (-20.177080874, 12.905669736), (-19.696965717, 12.238073863))
            Line((-19.696965717, 12.238073863), (-9.380671427, 6.281958578))
            ThreePointArc((-9.380671427, 6.281958578), (-8.696980161, 6.164999994), (-8.101665162, 6.520967843))
            ThreePointArc((-8.101665162, 6.520967843), (-6.487216138, 8.128716183), (-4.561403509, 9.346314676))
            ThreePointArc((-4.561403509, 9.346314676), (-4.151885476, 9.715185837), (-4, 10.24499878))
        make_face()
        with BuildLine():
            Line((-9.380671427, -6.281958578), (-20.52543024, -12.716388078))
            ThreePointArc((-20.52543024, -12.716388078), (-20.994462803, -13.335480514), (-20.878910009, -14.103539458))
            add(Edge.make_bspline(
                [(-20.878910009, -14.103539458), (-14.140957085, -25.138695581), (-1.830055545, -26.127424933)],
                knots=[4.775770168, 4.775770168, 4.775770168, 5.742874897, 5.742874897, 5.742874897], degree=2, weights=[1, 0.885348922, 1]))
            ThreePointArc((-1.830055545, -26.127424933), (-1.071787476, -25.865500348), (-0.75, -25.130634529))
            Line((-0.75, -25.130634529), (-0.75, -11.26487905))
            ThreePointArc((-0.75, -11.26487905), (-0.990556529, -10.614305753), (-1.596491228, -10.276731764))
            ThreePointArc((-1.596491228, -10.276731764), (-5.2, -9.006664199), (-8.101665162, -6.520967843))
            ThreePointArc((-8.101665162, -6.520967843), (-8.696980161, -6.164999994), (-9.380671427, -6.281958578))
        make_face()
    extrude(amount=CUT_EXTRUDE9_DEPTH, mode=Mode.SUBTRACT)

    # Fillet4
    fillet4_edges = [part.edges().sort_by_distance(p)[0] for p in [
        (22.333293139, 1, 5.3),
    ]]
    fillet(fillet4_edges, radius=FILLET4_R)

    # Sketch22 → Boss-Extrude4 (add)
    with BuildSketch(Plane(origin=(0, 0, 0), x_dir=(1, 0, 0), z_dir=(0, 1, 0)).offset(BOSS_EXTRUDE4_START)):
        with BuildLine():
            Line((25.4, 26.2), (0.134529672, 26.2))
            add(Edge.make_bspline(
                [(0.134529672, 26.2), (-45.132401673, 26.493894021), (-21.1535928, -12.020990224), (2.825216073, -50.535874469), (20.373398026, -6.307772844)],
                knots=[0.456497732, 0.456497732, 0.456497732, 2.643550488, 2.643550488, 4.830603244, 4.830603244, 4.830603244], degree=2, weights=[1, 0.459355916, 1, 0.459355916, 1]))
            ThreePointArc((20.373398026, -6.307772844), (21.845090667, -4.485719639), (24.084632068, -3.8))
            Line((24.084632068, -3.8), (25.4, -3.8))
            Line((25.4, -3.8), (25.4, -5.3))
            Line((25.4, -5.3), (24.084632068, -5.3))
            ThreePointArc((24.084632068, -5.3), (22.680778329, -5.731378556), (21.761398508, -6.876644257))
            add(Edge.make_bspline(
                [(18.329372436, -13.065838675), (20.443306322, -10.193064851), (21.761398508, -6.876644257)],
                knots=[1.416240338, 1.416240338, 1.416240338, 1.687948198, 1.687948198, 1.687948198], degree=2, weights=[1, 0.990786039, 1]))
            ThreePointArc((18.329372436, -13.065838675), (17.800260945, -14.429576005), (18.031066286, -15.874036932))
            Line((18.031066286, -15.874036932), (19.287328639, -18.666699414))
            ThreePointArc((19.287328639, -18.666699414), (18.378398581, -22.5178413), (14.423232763, -22.636631148))
            Line((14.423232763, -22.636631148), (12.282148638, -21.093586031))
            ThreePointArc((12.282148638, -21.093586031), (10.831803609, -20.571378647), (9.324862756, -20.895925284))
            add(Edge.make_bspline(
                [(-21.738588357, 15.552403394), (-74.642199686, -65.790312539), (9.324862756, -20.895925284)],
                knots=[4.619035423, 4.619035423, 4.619035423, 7.234825226, 7.234825226, 7.234825226], degree=2, weights=[1, 0.259883374, 1]))
            ThreePointArc((-21.738588357, 15.552403394), (-21.290226852, 16.922030245), (-21.582450949, 18.333239239))
            Line((-21.582450949, 18.333239239), (-23.005700489, 21.173936517))
            ThreePointArc((-23.005700489, 21.173936517), (-22.258262373, 25.059651887), (-18.311498324, 25.343379249))
            Line((-18.311498324, 25.343379249), (-16.205141277, 23.955117118))
            ThreePointArc((-16.205141277, 23.955117118), (-14.708437667, 23.493357847), (-13.197915422, 23.907683644))
            add(Edge.make_bspline(
                [(-0.010581904, 27.7), (-7.028971285, 27.7), (-13.197915422, 23.907683644)],
                knots=[3.605852843, 3.605852843, 3.605852843, 4.154921422, 4.154921422, 4.154921422], degree=2, weights=[1, 0.962551555, 1]))
            Line((-0.010581904, 27.7), (24.4, 27.7))
            ThreePointArc((24.4, 27.7), (25.107106781, 27.407106781), (25.4, 26.7))
            Line((25.4, 26.7), (25.4, 26.2))
        make_face()
        with Locations(Location((16.3234107, -20, 0), (0, 0, 270))):
            Circle(SKETCH22_R, mode=Mode.SUBTRACT)
        with Locations(Location((-20.1, 22.629754043, 0), (0, 0, 270))):
            Circle(SKETCH22_R, mode=Mode.SUBTRACT)
    extrude(amount=BOSS_EXTRUDE4_DEPTH)


solid = part.part
